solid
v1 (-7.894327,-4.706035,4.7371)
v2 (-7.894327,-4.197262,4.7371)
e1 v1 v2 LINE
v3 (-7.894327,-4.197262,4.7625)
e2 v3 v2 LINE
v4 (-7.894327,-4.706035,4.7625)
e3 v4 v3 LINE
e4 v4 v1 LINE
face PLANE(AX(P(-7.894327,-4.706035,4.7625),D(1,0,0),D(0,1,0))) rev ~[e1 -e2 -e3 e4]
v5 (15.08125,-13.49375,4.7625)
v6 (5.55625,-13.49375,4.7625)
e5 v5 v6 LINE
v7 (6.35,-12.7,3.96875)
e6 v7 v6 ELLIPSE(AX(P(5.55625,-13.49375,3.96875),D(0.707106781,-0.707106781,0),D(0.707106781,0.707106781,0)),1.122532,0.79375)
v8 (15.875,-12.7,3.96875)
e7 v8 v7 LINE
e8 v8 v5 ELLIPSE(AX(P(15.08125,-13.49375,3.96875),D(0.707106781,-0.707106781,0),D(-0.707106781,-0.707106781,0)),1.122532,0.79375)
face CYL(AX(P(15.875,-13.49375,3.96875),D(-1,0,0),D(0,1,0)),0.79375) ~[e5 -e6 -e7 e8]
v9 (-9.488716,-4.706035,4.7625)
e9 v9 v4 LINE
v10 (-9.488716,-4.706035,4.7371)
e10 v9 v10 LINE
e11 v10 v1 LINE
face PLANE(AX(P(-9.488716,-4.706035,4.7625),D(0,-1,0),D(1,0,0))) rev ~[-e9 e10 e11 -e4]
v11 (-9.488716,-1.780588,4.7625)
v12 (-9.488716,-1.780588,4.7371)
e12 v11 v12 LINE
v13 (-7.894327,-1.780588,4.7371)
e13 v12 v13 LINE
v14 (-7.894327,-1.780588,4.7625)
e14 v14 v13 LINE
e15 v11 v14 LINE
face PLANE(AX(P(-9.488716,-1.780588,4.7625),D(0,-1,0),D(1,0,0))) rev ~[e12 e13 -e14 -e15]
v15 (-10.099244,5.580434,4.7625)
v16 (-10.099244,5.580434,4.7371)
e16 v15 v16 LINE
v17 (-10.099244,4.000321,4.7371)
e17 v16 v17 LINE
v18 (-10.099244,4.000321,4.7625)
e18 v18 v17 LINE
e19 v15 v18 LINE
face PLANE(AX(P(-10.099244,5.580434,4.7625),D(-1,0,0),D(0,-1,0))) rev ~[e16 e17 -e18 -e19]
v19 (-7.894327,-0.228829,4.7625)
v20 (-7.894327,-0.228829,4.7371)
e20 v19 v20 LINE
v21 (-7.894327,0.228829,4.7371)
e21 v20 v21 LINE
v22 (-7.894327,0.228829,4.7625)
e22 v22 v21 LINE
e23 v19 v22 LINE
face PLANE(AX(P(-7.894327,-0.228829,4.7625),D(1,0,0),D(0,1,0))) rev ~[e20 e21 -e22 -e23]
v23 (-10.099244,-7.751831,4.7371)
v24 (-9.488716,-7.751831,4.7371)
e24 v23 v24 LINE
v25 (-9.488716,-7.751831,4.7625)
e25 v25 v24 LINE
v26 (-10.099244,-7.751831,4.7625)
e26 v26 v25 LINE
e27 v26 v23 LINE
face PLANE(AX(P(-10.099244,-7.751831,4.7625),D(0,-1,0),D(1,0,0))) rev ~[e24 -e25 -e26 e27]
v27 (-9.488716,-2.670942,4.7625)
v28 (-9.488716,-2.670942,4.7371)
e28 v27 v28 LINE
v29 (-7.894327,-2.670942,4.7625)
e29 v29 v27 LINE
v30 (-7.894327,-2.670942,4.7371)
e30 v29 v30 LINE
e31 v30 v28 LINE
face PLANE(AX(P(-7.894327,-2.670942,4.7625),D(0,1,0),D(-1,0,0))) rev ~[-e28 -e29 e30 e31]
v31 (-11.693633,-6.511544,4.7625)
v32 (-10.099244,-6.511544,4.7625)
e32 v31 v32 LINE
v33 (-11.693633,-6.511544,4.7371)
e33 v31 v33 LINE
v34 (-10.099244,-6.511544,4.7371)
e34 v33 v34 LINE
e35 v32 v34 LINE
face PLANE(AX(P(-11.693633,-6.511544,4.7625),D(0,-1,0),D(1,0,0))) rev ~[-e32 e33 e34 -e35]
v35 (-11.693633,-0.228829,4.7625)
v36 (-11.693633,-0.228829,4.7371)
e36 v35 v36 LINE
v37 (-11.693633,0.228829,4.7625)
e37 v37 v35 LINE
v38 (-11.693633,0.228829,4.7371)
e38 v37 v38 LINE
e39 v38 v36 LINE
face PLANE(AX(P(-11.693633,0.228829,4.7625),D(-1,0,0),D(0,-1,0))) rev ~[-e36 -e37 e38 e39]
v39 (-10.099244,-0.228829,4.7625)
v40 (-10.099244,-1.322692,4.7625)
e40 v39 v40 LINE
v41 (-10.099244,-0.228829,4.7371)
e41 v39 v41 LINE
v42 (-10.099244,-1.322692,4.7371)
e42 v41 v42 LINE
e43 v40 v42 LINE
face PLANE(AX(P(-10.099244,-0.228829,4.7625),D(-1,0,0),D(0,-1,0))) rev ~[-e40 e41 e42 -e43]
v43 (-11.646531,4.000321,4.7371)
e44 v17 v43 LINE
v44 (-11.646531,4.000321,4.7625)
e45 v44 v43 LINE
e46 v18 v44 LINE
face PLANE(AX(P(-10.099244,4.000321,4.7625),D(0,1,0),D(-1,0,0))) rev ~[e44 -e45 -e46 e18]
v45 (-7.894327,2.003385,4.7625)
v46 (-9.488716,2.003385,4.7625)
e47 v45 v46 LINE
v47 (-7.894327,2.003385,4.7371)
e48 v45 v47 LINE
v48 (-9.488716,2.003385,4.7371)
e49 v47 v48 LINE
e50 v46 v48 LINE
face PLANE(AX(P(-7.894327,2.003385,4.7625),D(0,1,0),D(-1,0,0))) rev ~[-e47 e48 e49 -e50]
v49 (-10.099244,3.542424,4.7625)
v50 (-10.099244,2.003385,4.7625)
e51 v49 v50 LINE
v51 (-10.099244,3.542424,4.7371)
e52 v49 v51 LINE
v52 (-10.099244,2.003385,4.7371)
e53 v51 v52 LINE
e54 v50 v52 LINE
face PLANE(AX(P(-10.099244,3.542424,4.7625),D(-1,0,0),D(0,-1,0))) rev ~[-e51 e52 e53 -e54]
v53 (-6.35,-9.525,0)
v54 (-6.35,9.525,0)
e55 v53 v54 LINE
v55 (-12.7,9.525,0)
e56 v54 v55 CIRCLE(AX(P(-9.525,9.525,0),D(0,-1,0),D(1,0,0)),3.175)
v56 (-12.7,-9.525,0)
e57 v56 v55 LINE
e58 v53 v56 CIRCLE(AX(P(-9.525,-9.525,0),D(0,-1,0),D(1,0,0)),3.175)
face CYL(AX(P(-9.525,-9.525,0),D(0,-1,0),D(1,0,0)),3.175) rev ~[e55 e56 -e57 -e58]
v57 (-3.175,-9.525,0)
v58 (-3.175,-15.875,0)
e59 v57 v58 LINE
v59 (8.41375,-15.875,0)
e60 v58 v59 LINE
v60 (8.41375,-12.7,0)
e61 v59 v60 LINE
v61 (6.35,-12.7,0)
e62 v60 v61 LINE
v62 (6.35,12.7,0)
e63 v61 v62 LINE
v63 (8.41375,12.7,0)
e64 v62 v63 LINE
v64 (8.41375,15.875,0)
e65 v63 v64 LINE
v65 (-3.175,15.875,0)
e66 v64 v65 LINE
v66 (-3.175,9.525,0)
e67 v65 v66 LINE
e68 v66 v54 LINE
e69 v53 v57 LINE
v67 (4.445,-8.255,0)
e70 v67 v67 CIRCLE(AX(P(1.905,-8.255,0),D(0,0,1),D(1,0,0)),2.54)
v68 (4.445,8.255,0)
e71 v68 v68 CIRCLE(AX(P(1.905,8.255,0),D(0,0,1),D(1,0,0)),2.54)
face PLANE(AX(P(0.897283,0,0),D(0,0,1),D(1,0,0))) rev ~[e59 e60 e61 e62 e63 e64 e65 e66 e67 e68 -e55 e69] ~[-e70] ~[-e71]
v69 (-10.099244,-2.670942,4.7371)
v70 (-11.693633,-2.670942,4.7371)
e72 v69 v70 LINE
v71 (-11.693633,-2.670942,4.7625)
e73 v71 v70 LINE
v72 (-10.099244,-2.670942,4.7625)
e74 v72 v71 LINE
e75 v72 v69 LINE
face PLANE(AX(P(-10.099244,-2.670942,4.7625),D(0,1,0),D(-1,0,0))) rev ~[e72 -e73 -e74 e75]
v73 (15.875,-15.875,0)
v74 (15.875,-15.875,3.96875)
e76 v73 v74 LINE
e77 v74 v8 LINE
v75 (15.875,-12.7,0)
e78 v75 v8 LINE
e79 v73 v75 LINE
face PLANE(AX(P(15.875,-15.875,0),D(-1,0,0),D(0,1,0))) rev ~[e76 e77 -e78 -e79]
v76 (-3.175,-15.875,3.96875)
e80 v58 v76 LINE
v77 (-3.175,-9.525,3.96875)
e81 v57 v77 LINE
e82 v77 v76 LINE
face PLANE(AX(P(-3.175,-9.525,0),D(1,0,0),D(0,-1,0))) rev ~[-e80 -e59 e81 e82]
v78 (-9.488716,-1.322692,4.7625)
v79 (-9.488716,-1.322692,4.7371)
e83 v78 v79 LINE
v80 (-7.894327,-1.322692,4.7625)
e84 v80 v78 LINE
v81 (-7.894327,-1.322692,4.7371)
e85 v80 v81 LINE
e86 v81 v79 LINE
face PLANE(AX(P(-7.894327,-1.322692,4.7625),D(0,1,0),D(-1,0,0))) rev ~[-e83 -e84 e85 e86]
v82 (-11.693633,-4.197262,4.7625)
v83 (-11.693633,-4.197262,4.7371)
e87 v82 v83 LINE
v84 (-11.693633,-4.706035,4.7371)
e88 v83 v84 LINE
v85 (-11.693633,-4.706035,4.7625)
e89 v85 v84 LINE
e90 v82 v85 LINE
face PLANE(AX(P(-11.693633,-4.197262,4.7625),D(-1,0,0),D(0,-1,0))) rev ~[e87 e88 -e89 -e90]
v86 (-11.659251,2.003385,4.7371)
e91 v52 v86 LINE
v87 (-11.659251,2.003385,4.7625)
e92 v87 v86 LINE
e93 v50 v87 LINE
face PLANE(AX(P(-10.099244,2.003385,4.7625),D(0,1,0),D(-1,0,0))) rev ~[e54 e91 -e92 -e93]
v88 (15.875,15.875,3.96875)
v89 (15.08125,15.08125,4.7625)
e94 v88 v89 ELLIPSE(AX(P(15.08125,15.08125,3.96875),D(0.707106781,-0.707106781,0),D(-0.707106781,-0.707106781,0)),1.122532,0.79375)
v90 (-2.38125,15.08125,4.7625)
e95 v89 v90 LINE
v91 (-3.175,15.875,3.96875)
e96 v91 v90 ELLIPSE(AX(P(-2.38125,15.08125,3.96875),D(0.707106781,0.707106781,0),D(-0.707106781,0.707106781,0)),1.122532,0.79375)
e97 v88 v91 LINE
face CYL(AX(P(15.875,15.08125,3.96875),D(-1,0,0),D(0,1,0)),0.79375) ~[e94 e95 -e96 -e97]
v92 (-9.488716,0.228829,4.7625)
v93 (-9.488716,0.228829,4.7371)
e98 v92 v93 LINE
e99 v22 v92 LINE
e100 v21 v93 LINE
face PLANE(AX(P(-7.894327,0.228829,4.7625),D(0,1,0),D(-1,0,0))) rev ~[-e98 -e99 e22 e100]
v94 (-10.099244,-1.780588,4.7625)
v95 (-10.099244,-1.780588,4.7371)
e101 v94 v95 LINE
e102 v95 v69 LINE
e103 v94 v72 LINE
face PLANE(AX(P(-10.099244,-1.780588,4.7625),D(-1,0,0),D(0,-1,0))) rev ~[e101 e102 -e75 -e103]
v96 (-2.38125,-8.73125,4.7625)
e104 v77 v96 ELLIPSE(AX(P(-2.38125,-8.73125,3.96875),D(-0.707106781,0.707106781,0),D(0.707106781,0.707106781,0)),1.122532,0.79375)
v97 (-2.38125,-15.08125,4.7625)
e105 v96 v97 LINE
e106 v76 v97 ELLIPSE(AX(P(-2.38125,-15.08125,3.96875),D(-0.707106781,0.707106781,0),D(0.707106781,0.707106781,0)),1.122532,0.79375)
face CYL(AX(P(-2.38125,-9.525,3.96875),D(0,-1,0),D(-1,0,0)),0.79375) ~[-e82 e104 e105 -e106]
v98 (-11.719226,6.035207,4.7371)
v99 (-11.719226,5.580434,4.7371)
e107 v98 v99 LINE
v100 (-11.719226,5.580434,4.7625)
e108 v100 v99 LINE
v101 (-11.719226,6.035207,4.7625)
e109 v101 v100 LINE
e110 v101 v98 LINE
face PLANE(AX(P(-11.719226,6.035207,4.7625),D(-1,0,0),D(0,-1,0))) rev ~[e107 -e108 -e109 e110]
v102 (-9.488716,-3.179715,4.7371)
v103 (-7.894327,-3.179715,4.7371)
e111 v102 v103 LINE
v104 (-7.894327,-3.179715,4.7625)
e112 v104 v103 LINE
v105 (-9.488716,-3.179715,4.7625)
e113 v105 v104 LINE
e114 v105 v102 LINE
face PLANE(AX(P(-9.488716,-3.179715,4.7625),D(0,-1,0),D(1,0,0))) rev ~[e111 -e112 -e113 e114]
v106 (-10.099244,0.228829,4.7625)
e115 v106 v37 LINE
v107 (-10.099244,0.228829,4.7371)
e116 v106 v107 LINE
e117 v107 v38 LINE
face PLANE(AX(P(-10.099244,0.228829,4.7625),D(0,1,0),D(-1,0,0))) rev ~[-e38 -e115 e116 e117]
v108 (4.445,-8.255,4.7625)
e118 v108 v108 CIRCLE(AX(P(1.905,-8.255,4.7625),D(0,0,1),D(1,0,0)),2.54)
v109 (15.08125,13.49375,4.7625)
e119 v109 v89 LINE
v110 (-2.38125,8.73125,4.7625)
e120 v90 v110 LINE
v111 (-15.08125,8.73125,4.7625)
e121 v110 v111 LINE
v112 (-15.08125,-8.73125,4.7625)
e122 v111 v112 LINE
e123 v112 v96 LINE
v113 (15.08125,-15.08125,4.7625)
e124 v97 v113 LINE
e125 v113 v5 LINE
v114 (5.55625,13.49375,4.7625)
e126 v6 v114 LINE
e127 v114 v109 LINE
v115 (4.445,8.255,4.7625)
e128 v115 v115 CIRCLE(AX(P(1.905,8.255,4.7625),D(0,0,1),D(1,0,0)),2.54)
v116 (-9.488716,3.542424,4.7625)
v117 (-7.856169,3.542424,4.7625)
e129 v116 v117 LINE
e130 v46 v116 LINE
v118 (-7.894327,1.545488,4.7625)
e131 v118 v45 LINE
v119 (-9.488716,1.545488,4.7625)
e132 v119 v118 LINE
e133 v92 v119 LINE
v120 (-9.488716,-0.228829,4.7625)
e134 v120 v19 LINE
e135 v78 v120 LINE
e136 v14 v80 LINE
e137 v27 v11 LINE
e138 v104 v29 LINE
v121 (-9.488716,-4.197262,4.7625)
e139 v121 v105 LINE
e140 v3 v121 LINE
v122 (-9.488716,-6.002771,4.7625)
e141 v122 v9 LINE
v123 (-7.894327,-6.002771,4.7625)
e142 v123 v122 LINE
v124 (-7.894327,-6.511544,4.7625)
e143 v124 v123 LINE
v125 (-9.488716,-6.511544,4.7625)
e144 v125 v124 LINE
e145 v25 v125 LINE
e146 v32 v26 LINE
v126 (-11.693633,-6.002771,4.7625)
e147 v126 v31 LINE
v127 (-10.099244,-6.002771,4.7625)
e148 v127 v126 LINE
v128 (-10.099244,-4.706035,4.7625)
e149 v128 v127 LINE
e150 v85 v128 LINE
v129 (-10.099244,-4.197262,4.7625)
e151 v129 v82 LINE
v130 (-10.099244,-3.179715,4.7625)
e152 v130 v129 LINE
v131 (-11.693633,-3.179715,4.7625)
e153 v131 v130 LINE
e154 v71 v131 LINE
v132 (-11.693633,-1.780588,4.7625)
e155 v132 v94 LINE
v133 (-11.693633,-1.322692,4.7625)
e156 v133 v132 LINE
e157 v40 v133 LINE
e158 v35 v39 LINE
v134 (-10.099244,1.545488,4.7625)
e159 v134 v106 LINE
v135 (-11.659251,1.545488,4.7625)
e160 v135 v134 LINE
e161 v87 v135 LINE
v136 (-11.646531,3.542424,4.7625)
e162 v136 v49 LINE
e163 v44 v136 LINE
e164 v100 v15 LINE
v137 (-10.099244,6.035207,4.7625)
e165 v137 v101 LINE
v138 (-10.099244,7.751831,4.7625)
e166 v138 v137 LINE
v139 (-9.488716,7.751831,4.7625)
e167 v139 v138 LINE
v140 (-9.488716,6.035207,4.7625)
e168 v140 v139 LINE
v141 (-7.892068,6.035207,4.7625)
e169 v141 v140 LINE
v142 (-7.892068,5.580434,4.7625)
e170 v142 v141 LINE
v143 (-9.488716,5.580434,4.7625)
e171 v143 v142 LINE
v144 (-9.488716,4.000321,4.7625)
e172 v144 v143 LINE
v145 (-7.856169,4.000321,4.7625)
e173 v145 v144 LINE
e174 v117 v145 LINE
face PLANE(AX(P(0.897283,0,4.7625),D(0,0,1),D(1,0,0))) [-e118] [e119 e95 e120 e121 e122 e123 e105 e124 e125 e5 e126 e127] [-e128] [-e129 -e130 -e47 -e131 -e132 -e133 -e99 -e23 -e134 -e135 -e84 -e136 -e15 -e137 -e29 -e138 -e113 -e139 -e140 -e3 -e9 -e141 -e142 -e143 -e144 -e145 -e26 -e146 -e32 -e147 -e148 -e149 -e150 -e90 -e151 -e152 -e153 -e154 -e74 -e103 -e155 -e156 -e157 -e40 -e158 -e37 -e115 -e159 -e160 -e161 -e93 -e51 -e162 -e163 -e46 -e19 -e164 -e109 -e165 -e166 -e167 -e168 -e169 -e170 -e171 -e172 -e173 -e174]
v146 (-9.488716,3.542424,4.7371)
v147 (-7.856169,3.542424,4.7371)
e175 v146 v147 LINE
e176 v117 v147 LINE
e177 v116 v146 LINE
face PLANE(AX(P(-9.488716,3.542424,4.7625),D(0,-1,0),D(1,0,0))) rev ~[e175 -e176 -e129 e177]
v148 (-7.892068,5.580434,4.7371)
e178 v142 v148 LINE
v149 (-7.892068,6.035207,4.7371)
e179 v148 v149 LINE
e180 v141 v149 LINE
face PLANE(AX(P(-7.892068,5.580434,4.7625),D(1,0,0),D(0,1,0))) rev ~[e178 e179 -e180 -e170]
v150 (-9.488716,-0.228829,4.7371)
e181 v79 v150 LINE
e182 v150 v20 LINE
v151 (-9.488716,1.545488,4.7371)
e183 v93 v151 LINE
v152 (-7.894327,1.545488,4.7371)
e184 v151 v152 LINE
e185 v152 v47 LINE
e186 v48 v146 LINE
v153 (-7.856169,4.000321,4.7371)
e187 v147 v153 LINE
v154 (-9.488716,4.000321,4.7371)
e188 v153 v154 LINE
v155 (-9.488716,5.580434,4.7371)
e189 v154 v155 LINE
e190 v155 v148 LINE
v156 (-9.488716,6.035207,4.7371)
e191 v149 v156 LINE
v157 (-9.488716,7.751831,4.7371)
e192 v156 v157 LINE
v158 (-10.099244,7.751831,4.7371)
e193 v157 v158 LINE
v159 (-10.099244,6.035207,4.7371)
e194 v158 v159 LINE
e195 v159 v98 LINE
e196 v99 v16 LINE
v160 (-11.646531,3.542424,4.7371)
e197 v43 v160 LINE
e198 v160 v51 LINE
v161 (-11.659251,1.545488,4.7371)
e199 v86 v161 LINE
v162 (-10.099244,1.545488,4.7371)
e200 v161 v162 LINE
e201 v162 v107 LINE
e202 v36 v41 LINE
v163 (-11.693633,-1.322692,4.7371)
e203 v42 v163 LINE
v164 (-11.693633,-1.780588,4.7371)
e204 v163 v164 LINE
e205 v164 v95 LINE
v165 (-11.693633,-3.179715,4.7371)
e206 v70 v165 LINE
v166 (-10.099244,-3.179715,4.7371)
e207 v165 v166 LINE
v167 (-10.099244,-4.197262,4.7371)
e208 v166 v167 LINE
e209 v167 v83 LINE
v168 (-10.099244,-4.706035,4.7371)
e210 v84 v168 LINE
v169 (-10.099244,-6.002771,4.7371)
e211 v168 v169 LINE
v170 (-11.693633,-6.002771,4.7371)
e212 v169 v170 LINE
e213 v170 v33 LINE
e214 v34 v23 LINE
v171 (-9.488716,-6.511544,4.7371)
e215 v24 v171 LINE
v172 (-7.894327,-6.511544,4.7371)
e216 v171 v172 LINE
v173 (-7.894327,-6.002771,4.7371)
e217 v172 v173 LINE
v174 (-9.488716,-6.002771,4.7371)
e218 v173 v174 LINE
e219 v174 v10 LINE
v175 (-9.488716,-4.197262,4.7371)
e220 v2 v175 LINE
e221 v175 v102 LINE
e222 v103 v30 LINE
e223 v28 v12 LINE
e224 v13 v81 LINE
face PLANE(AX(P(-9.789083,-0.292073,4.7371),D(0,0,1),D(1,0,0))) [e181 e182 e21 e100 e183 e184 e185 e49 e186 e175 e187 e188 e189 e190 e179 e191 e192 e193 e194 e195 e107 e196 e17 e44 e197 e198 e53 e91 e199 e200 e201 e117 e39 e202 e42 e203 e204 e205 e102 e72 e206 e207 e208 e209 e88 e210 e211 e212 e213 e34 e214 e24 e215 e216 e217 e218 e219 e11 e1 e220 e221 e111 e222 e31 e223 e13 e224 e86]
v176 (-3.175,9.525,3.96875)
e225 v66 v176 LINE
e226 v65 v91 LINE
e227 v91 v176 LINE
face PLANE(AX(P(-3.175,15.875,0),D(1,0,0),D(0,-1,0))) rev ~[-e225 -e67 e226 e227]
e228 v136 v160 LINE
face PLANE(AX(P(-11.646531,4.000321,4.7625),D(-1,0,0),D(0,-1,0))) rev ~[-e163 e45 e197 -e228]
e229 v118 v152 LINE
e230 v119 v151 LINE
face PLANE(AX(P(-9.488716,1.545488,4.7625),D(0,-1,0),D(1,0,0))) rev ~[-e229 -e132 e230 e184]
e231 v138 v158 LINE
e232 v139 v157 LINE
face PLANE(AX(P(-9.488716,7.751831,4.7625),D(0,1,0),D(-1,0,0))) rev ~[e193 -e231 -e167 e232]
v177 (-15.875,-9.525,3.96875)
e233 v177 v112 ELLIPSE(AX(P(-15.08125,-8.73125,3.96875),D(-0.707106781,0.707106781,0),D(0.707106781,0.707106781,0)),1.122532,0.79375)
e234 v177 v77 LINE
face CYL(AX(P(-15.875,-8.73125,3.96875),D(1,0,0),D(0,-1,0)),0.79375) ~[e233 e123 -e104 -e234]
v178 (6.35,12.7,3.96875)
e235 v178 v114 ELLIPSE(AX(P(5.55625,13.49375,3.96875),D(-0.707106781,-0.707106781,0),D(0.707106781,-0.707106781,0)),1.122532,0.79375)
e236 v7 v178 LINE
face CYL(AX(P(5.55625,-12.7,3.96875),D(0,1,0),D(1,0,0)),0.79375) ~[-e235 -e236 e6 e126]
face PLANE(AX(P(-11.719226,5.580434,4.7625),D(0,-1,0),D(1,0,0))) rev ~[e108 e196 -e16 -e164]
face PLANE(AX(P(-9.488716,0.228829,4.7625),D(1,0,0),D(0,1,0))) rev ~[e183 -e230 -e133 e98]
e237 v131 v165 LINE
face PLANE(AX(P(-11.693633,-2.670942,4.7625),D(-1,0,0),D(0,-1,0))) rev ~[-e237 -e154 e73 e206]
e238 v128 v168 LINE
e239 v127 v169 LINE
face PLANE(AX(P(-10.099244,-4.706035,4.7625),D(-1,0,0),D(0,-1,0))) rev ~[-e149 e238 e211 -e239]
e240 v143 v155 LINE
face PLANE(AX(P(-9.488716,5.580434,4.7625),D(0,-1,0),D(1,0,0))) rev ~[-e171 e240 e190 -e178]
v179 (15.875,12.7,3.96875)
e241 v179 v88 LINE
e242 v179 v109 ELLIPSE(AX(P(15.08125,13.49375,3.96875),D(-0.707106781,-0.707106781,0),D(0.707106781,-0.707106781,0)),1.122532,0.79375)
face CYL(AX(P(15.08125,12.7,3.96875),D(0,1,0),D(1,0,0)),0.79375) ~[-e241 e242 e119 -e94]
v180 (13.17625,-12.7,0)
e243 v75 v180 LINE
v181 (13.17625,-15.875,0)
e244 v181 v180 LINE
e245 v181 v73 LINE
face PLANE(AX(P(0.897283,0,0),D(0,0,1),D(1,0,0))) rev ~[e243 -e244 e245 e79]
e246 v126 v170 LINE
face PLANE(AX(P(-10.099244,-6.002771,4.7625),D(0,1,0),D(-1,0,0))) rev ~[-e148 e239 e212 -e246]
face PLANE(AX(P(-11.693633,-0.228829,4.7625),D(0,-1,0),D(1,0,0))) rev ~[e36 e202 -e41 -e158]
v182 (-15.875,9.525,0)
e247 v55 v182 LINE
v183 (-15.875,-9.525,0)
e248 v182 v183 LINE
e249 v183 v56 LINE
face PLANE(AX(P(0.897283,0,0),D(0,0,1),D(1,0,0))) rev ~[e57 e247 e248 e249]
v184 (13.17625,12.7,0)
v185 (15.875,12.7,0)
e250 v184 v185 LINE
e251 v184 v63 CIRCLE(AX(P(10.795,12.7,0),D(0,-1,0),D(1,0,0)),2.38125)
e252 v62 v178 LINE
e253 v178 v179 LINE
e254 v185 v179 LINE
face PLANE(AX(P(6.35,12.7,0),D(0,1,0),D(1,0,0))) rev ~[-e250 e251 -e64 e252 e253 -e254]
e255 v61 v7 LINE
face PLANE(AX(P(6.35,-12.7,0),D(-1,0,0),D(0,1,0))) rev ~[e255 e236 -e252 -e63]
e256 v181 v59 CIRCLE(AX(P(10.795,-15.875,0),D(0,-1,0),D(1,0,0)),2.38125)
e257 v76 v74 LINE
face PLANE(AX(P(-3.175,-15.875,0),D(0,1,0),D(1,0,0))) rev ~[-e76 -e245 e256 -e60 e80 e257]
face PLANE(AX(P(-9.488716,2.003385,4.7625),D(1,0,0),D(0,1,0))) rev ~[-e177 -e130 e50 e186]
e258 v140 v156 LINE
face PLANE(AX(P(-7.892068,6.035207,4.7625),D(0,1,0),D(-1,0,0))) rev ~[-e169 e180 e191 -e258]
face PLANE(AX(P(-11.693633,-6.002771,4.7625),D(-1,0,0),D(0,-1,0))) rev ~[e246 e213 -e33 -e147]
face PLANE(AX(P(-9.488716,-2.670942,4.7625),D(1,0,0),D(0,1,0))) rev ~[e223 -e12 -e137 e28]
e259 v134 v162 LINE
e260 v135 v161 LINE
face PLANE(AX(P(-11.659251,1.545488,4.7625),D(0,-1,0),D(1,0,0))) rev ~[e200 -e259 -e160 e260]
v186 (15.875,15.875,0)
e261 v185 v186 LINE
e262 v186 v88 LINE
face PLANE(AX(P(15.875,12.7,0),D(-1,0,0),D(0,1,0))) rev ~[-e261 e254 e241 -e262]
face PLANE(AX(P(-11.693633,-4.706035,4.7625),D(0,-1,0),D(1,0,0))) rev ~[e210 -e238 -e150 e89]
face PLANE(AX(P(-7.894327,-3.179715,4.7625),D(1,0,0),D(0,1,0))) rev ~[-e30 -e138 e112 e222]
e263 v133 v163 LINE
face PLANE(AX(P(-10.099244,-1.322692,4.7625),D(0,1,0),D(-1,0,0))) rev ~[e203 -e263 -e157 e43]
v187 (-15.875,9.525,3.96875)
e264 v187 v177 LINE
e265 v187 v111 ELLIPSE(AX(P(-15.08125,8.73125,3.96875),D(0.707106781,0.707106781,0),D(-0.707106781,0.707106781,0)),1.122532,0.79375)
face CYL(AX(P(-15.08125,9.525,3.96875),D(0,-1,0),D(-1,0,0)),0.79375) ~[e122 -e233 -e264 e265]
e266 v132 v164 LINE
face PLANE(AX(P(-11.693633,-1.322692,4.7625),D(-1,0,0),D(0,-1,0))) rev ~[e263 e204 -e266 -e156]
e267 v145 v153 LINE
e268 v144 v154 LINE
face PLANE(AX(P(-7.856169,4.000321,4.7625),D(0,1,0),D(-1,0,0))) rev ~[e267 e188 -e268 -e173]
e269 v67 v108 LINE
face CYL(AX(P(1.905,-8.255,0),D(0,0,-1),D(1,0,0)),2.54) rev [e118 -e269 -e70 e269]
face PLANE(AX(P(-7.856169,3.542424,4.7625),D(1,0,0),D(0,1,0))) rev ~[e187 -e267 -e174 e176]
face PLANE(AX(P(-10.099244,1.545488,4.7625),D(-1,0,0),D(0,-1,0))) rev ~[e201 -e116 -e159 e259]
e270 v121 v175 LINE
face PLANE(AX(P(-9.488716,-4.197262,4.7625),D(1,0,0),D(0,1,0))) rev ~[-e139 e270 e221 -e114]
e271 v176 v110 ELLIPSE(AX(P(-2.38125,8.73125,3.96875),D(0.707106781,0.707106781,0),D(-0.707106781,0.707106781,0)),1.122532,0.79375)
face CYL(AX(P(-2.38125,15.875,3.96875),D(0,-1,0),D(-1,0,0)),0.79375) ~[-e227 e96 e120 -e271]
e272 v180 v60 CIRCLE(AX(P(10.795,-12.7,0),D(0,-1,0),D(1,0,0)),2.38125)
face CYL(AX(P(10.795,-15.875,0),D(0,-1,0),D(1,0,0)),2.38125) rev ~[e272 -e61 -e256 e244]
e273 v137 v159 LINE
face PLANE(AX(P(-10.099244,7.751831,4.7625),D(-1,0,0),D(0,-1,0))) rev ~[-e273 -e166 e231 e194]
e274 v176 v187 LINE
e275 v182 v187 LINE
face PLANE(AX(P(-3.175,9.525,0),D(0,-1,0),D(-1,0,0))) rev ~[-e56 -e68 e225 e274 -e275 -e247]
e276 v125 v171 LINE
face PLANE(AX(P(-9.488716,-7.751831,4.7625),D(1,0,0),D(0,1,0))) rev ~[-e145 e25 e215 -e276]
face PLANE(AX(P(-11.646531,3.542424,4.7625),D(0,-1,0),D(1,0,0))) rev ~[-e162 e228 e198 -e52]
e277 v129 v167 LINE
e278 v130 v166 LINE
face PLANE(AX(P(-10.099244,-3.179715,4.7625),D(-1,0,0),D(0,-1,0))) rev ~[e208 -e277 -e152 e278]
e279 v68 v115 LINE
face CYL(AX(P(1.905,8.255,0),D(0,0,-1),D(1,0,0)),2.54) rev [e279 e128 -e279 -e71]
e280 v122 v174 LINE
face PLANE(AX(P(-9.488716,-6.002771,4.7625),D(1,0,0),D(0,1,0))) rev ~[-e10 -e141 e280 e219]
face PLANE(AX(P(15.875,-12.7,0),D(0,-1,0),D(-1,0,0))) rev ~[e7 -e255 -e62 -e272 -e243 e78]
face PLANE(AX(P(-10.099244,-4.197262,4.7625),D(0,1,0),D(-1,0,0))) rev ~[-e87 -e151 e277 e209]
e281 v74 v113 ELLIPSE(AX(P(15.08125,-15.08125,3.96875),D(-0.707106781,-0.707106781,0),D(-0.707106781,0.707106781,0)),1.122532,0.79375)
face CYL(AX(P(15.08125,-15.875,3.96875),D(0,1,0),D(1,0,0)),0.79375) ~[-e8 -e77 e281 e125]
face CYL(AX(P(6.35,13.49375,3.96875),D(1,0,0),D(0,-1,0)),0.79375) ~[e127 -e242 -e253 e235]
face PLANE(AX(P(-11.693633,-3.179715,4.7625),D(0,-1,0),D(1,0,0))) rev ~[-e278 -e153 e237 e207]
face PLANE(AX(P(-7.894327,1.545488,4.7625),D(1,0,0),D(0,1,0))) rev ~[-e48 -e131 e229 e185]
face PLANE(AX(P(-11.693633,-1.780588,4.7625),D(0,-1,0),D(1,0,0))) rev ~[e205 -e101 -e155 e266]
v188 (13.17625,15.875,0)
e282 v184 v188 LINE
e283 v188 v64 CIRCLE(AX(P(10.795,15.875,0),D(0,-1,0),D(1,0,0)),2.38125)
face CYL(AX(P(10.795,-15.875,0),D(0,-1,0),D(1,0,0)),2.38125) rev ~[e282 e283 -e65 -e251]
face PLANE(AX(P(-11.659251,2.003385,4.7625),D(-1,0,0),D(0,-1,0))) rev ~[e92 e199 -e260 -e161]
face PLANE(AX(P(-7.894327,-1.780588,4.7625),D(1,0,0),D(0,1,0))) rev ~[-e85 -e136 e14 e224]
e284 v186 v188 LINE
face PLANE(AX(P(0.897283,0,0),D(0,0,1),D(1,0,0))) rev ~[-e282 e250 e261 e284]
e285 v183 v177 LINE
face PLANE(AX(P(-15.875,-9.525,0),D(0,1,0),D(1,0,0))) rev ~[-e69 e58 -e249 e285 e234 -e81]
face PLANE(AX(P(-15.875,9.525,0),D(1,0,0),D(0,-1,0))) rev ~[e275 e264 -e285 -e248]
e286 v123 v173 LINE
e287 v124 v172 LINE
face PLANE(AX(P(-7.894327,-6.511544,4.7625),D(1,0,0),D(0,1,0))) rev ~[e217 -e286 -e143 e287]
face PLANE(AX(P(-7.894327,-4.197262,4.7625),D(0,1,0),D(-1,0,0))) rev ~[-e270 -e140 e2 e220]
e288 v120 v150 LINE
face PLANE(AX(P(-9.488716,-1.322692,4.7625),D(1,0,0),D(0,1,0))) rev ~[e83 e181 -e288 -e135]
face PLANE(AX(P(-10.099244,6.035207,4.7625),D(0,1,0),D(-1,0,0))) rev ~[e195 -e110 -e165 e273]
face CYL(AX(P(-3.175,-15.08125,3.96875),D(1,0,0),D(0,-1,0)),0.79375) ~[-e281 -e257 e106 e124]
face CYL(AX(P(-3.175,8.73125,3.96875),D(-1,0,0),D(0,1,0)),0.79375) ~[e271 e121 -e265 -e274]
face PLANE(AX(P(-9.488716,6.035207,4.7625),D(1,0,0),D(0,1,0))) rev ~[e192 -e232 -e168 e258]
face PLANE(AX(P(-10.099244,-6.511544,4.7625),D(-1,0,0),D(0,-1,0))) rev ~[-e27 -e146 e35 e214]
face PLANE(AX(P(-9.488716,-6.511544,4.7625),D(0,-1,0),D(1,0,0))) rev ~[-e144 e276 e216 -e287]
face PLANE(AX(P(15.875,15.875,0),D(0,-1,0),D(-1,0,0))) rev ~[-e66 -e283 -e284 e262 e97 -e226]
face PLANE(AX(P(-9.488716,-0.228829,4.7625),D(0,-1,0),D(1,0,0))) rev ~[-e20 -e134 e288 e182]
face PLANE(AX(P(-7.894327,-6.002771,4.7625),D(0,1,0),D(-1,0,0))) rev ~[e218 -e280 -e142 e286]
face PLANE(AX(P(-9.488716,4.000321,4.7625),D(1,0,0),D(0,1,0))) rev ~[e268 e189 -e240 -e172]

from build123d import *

# Parameters (mm, degrees)
F0_R     = 2.54
F1_DEPTH = 4.7625
F2_R     = 0.79375
F4_DEPTH = 25.401
F6_DEPTH = 31.751
F8_DEPTH = 0.0254


with BuildPart() as f1:
    # F0 (on Top) → F1 (new body)
    with BuildSketch(Plane.XY):
        Polygon((15.875, 12.7), (15.875, 15.875), (-3.175, 15.875), (-3.175, 9.525), (-15.875, 9.525), (-15.875, -9.525), (-3.175, -9.525), (-3.175, -15.875), (15.875, -15.875), (15.875, -12.7), (6.35, -12.7), (6.35, 12.7), align=None)
        with Locations((1.905, -8.255)):
            Circle(F0_R, mode=Mode.SUBTRACT)
        with Locations((1.905, 8.255)):
            Circle(F0_R, mode=Mode.SUBTRACT)
    extrude(amount=F1_DEPTH)

    # F2
    f2_edges = [f1.edges().sort_by_distance(p)[0] for p in [
        (-9.525, 9.525, 4.7625),
        (-9.525, -9.525, 4.7625),
        (6.35, 15.875, 4.7625),
        (11.1125, 12.7, 4.7625),
        (6.35, 0, 4.7625),
        (15.875, 14.2875, 4.7625),
        (11.1125, -12.7, 4.7625),
        (15.875, -14.2875, 4.7625),
        (6.35, -15.875, 4.7625),
        (-3.175, -12.7, 4.7625),
        (-15.875, 0, 4.7625),
        (-3.175, 12.7, 4.7625),
    ]]
    fillet(f2_edges, radius=F2_R)

    # F3 (on face) → F4 (cut, through all)
    with BuildSketch(Plane.XZ.offset(9.525)):
        with BuildLine():
            Line((-12.7, 0), (-6.35, 0))
            ThreePointArc((-6.35, 0), (-9.525, 3.175), (-12.7, 0))
        make_face()
    extrude(amount=-F4_DEPTH, mode=Mode.SUBTRACT)

    # F5 (on face) → F6 (cut, through all)
    with BuildSketch(Plane.XZ.offset(15.875)):
        with BuildLine():
            Line((8.41375, 0), (13.17625, 0))
            ThreePointArc((13.17625, 0), (10.795, 2.38125), (8.41375, 0))
        make_face()
    extrude(amount=-F6_DEPTH, mode=Mode.SUBTRACT)

    # F7 (on face) → F8 (cut)
    with BuildSketch(Plane.XY.offset(4.7625)):
        Polygon((-10.099244, -6.511544), (-10.099244, -7.751831), (-9.488716, -7.751831), (-9.488716, -6.511544), (-7.894327, -6.511544), (-7.894327, -6.002771), (-9.488716, -6.002771), (-9.488716, -4.706035), (-7.894327, -4.706035), (-7.894327, -4.197262), (-9.488716, -4.197262), (-9.488716, -3.179715), (-7.894327, -3.179715), (-7.894327, -2.670942), (-9.488716, -2.670942), (-9.488716, -1.780588), (-7.894327, -1.780588), (-7.894327, -1.322692), (-9.488716, -1.322692), (-9.488716, -0.228829), (-7.894327, -0.228829), (-7.894327, 0.228829), (-9.488716, 0.228829), (-9.488716, 1.545488), (-7.894327, 1.545488), (-7.894327, 2.003385), (-9.488716, 2.003385), (-9.488716, 3.542424), (-7.856169, 3.542424), (-7.856169, 4.000321), (-9.488716, 4.000321), (-9.488716, 5.580434), (-7.892068, 5.580434), (-7.892068, 6.035207), (-9.488716, 6.035207), (-9.488716, 7.751831), (-10.099244, 7.751831), (-10.099244, 6.035207), (-11.719226, 6.035207), (-11.719226, 5.580434), (-10.099244, 5.580434), (-10.099244, 4.000321), (-11.646531, 4.000321), (-11.646531, 3.542424), (-10.099244, 3.542424), (-10.099244, 2.003385), (-11.659251, 2.003385), (-11.659251, 1.545488), (-10.099244, 1.545488), (-10.099244, 0.228829), (-11.693633, 0.228829), (-11.693633, -0.228829), (-10.099244, -0.228829), (-10.099244, -1.322692), (-11.693633, -1.322692), (-11.693633, -1.780588), (-10.099244, -1.780588), (-10.099244, -2.670942), (-11.693633, -2.670942), (-11.693633, -3.179715), (-10.099244, -3.179715), (-10.099244, -4.197262), (-11.693633, -4.197262), (-11.693633, -4.706035), (-10.099244, -4.706035), (-10.099244, -6.002771), (-11.693633, -6.002771), (-11.693633, -6.511544), align=None)
    extrude(amount=-F8_DEPTH, mode=Mode.SUBTRACT)


solid = f1.part
